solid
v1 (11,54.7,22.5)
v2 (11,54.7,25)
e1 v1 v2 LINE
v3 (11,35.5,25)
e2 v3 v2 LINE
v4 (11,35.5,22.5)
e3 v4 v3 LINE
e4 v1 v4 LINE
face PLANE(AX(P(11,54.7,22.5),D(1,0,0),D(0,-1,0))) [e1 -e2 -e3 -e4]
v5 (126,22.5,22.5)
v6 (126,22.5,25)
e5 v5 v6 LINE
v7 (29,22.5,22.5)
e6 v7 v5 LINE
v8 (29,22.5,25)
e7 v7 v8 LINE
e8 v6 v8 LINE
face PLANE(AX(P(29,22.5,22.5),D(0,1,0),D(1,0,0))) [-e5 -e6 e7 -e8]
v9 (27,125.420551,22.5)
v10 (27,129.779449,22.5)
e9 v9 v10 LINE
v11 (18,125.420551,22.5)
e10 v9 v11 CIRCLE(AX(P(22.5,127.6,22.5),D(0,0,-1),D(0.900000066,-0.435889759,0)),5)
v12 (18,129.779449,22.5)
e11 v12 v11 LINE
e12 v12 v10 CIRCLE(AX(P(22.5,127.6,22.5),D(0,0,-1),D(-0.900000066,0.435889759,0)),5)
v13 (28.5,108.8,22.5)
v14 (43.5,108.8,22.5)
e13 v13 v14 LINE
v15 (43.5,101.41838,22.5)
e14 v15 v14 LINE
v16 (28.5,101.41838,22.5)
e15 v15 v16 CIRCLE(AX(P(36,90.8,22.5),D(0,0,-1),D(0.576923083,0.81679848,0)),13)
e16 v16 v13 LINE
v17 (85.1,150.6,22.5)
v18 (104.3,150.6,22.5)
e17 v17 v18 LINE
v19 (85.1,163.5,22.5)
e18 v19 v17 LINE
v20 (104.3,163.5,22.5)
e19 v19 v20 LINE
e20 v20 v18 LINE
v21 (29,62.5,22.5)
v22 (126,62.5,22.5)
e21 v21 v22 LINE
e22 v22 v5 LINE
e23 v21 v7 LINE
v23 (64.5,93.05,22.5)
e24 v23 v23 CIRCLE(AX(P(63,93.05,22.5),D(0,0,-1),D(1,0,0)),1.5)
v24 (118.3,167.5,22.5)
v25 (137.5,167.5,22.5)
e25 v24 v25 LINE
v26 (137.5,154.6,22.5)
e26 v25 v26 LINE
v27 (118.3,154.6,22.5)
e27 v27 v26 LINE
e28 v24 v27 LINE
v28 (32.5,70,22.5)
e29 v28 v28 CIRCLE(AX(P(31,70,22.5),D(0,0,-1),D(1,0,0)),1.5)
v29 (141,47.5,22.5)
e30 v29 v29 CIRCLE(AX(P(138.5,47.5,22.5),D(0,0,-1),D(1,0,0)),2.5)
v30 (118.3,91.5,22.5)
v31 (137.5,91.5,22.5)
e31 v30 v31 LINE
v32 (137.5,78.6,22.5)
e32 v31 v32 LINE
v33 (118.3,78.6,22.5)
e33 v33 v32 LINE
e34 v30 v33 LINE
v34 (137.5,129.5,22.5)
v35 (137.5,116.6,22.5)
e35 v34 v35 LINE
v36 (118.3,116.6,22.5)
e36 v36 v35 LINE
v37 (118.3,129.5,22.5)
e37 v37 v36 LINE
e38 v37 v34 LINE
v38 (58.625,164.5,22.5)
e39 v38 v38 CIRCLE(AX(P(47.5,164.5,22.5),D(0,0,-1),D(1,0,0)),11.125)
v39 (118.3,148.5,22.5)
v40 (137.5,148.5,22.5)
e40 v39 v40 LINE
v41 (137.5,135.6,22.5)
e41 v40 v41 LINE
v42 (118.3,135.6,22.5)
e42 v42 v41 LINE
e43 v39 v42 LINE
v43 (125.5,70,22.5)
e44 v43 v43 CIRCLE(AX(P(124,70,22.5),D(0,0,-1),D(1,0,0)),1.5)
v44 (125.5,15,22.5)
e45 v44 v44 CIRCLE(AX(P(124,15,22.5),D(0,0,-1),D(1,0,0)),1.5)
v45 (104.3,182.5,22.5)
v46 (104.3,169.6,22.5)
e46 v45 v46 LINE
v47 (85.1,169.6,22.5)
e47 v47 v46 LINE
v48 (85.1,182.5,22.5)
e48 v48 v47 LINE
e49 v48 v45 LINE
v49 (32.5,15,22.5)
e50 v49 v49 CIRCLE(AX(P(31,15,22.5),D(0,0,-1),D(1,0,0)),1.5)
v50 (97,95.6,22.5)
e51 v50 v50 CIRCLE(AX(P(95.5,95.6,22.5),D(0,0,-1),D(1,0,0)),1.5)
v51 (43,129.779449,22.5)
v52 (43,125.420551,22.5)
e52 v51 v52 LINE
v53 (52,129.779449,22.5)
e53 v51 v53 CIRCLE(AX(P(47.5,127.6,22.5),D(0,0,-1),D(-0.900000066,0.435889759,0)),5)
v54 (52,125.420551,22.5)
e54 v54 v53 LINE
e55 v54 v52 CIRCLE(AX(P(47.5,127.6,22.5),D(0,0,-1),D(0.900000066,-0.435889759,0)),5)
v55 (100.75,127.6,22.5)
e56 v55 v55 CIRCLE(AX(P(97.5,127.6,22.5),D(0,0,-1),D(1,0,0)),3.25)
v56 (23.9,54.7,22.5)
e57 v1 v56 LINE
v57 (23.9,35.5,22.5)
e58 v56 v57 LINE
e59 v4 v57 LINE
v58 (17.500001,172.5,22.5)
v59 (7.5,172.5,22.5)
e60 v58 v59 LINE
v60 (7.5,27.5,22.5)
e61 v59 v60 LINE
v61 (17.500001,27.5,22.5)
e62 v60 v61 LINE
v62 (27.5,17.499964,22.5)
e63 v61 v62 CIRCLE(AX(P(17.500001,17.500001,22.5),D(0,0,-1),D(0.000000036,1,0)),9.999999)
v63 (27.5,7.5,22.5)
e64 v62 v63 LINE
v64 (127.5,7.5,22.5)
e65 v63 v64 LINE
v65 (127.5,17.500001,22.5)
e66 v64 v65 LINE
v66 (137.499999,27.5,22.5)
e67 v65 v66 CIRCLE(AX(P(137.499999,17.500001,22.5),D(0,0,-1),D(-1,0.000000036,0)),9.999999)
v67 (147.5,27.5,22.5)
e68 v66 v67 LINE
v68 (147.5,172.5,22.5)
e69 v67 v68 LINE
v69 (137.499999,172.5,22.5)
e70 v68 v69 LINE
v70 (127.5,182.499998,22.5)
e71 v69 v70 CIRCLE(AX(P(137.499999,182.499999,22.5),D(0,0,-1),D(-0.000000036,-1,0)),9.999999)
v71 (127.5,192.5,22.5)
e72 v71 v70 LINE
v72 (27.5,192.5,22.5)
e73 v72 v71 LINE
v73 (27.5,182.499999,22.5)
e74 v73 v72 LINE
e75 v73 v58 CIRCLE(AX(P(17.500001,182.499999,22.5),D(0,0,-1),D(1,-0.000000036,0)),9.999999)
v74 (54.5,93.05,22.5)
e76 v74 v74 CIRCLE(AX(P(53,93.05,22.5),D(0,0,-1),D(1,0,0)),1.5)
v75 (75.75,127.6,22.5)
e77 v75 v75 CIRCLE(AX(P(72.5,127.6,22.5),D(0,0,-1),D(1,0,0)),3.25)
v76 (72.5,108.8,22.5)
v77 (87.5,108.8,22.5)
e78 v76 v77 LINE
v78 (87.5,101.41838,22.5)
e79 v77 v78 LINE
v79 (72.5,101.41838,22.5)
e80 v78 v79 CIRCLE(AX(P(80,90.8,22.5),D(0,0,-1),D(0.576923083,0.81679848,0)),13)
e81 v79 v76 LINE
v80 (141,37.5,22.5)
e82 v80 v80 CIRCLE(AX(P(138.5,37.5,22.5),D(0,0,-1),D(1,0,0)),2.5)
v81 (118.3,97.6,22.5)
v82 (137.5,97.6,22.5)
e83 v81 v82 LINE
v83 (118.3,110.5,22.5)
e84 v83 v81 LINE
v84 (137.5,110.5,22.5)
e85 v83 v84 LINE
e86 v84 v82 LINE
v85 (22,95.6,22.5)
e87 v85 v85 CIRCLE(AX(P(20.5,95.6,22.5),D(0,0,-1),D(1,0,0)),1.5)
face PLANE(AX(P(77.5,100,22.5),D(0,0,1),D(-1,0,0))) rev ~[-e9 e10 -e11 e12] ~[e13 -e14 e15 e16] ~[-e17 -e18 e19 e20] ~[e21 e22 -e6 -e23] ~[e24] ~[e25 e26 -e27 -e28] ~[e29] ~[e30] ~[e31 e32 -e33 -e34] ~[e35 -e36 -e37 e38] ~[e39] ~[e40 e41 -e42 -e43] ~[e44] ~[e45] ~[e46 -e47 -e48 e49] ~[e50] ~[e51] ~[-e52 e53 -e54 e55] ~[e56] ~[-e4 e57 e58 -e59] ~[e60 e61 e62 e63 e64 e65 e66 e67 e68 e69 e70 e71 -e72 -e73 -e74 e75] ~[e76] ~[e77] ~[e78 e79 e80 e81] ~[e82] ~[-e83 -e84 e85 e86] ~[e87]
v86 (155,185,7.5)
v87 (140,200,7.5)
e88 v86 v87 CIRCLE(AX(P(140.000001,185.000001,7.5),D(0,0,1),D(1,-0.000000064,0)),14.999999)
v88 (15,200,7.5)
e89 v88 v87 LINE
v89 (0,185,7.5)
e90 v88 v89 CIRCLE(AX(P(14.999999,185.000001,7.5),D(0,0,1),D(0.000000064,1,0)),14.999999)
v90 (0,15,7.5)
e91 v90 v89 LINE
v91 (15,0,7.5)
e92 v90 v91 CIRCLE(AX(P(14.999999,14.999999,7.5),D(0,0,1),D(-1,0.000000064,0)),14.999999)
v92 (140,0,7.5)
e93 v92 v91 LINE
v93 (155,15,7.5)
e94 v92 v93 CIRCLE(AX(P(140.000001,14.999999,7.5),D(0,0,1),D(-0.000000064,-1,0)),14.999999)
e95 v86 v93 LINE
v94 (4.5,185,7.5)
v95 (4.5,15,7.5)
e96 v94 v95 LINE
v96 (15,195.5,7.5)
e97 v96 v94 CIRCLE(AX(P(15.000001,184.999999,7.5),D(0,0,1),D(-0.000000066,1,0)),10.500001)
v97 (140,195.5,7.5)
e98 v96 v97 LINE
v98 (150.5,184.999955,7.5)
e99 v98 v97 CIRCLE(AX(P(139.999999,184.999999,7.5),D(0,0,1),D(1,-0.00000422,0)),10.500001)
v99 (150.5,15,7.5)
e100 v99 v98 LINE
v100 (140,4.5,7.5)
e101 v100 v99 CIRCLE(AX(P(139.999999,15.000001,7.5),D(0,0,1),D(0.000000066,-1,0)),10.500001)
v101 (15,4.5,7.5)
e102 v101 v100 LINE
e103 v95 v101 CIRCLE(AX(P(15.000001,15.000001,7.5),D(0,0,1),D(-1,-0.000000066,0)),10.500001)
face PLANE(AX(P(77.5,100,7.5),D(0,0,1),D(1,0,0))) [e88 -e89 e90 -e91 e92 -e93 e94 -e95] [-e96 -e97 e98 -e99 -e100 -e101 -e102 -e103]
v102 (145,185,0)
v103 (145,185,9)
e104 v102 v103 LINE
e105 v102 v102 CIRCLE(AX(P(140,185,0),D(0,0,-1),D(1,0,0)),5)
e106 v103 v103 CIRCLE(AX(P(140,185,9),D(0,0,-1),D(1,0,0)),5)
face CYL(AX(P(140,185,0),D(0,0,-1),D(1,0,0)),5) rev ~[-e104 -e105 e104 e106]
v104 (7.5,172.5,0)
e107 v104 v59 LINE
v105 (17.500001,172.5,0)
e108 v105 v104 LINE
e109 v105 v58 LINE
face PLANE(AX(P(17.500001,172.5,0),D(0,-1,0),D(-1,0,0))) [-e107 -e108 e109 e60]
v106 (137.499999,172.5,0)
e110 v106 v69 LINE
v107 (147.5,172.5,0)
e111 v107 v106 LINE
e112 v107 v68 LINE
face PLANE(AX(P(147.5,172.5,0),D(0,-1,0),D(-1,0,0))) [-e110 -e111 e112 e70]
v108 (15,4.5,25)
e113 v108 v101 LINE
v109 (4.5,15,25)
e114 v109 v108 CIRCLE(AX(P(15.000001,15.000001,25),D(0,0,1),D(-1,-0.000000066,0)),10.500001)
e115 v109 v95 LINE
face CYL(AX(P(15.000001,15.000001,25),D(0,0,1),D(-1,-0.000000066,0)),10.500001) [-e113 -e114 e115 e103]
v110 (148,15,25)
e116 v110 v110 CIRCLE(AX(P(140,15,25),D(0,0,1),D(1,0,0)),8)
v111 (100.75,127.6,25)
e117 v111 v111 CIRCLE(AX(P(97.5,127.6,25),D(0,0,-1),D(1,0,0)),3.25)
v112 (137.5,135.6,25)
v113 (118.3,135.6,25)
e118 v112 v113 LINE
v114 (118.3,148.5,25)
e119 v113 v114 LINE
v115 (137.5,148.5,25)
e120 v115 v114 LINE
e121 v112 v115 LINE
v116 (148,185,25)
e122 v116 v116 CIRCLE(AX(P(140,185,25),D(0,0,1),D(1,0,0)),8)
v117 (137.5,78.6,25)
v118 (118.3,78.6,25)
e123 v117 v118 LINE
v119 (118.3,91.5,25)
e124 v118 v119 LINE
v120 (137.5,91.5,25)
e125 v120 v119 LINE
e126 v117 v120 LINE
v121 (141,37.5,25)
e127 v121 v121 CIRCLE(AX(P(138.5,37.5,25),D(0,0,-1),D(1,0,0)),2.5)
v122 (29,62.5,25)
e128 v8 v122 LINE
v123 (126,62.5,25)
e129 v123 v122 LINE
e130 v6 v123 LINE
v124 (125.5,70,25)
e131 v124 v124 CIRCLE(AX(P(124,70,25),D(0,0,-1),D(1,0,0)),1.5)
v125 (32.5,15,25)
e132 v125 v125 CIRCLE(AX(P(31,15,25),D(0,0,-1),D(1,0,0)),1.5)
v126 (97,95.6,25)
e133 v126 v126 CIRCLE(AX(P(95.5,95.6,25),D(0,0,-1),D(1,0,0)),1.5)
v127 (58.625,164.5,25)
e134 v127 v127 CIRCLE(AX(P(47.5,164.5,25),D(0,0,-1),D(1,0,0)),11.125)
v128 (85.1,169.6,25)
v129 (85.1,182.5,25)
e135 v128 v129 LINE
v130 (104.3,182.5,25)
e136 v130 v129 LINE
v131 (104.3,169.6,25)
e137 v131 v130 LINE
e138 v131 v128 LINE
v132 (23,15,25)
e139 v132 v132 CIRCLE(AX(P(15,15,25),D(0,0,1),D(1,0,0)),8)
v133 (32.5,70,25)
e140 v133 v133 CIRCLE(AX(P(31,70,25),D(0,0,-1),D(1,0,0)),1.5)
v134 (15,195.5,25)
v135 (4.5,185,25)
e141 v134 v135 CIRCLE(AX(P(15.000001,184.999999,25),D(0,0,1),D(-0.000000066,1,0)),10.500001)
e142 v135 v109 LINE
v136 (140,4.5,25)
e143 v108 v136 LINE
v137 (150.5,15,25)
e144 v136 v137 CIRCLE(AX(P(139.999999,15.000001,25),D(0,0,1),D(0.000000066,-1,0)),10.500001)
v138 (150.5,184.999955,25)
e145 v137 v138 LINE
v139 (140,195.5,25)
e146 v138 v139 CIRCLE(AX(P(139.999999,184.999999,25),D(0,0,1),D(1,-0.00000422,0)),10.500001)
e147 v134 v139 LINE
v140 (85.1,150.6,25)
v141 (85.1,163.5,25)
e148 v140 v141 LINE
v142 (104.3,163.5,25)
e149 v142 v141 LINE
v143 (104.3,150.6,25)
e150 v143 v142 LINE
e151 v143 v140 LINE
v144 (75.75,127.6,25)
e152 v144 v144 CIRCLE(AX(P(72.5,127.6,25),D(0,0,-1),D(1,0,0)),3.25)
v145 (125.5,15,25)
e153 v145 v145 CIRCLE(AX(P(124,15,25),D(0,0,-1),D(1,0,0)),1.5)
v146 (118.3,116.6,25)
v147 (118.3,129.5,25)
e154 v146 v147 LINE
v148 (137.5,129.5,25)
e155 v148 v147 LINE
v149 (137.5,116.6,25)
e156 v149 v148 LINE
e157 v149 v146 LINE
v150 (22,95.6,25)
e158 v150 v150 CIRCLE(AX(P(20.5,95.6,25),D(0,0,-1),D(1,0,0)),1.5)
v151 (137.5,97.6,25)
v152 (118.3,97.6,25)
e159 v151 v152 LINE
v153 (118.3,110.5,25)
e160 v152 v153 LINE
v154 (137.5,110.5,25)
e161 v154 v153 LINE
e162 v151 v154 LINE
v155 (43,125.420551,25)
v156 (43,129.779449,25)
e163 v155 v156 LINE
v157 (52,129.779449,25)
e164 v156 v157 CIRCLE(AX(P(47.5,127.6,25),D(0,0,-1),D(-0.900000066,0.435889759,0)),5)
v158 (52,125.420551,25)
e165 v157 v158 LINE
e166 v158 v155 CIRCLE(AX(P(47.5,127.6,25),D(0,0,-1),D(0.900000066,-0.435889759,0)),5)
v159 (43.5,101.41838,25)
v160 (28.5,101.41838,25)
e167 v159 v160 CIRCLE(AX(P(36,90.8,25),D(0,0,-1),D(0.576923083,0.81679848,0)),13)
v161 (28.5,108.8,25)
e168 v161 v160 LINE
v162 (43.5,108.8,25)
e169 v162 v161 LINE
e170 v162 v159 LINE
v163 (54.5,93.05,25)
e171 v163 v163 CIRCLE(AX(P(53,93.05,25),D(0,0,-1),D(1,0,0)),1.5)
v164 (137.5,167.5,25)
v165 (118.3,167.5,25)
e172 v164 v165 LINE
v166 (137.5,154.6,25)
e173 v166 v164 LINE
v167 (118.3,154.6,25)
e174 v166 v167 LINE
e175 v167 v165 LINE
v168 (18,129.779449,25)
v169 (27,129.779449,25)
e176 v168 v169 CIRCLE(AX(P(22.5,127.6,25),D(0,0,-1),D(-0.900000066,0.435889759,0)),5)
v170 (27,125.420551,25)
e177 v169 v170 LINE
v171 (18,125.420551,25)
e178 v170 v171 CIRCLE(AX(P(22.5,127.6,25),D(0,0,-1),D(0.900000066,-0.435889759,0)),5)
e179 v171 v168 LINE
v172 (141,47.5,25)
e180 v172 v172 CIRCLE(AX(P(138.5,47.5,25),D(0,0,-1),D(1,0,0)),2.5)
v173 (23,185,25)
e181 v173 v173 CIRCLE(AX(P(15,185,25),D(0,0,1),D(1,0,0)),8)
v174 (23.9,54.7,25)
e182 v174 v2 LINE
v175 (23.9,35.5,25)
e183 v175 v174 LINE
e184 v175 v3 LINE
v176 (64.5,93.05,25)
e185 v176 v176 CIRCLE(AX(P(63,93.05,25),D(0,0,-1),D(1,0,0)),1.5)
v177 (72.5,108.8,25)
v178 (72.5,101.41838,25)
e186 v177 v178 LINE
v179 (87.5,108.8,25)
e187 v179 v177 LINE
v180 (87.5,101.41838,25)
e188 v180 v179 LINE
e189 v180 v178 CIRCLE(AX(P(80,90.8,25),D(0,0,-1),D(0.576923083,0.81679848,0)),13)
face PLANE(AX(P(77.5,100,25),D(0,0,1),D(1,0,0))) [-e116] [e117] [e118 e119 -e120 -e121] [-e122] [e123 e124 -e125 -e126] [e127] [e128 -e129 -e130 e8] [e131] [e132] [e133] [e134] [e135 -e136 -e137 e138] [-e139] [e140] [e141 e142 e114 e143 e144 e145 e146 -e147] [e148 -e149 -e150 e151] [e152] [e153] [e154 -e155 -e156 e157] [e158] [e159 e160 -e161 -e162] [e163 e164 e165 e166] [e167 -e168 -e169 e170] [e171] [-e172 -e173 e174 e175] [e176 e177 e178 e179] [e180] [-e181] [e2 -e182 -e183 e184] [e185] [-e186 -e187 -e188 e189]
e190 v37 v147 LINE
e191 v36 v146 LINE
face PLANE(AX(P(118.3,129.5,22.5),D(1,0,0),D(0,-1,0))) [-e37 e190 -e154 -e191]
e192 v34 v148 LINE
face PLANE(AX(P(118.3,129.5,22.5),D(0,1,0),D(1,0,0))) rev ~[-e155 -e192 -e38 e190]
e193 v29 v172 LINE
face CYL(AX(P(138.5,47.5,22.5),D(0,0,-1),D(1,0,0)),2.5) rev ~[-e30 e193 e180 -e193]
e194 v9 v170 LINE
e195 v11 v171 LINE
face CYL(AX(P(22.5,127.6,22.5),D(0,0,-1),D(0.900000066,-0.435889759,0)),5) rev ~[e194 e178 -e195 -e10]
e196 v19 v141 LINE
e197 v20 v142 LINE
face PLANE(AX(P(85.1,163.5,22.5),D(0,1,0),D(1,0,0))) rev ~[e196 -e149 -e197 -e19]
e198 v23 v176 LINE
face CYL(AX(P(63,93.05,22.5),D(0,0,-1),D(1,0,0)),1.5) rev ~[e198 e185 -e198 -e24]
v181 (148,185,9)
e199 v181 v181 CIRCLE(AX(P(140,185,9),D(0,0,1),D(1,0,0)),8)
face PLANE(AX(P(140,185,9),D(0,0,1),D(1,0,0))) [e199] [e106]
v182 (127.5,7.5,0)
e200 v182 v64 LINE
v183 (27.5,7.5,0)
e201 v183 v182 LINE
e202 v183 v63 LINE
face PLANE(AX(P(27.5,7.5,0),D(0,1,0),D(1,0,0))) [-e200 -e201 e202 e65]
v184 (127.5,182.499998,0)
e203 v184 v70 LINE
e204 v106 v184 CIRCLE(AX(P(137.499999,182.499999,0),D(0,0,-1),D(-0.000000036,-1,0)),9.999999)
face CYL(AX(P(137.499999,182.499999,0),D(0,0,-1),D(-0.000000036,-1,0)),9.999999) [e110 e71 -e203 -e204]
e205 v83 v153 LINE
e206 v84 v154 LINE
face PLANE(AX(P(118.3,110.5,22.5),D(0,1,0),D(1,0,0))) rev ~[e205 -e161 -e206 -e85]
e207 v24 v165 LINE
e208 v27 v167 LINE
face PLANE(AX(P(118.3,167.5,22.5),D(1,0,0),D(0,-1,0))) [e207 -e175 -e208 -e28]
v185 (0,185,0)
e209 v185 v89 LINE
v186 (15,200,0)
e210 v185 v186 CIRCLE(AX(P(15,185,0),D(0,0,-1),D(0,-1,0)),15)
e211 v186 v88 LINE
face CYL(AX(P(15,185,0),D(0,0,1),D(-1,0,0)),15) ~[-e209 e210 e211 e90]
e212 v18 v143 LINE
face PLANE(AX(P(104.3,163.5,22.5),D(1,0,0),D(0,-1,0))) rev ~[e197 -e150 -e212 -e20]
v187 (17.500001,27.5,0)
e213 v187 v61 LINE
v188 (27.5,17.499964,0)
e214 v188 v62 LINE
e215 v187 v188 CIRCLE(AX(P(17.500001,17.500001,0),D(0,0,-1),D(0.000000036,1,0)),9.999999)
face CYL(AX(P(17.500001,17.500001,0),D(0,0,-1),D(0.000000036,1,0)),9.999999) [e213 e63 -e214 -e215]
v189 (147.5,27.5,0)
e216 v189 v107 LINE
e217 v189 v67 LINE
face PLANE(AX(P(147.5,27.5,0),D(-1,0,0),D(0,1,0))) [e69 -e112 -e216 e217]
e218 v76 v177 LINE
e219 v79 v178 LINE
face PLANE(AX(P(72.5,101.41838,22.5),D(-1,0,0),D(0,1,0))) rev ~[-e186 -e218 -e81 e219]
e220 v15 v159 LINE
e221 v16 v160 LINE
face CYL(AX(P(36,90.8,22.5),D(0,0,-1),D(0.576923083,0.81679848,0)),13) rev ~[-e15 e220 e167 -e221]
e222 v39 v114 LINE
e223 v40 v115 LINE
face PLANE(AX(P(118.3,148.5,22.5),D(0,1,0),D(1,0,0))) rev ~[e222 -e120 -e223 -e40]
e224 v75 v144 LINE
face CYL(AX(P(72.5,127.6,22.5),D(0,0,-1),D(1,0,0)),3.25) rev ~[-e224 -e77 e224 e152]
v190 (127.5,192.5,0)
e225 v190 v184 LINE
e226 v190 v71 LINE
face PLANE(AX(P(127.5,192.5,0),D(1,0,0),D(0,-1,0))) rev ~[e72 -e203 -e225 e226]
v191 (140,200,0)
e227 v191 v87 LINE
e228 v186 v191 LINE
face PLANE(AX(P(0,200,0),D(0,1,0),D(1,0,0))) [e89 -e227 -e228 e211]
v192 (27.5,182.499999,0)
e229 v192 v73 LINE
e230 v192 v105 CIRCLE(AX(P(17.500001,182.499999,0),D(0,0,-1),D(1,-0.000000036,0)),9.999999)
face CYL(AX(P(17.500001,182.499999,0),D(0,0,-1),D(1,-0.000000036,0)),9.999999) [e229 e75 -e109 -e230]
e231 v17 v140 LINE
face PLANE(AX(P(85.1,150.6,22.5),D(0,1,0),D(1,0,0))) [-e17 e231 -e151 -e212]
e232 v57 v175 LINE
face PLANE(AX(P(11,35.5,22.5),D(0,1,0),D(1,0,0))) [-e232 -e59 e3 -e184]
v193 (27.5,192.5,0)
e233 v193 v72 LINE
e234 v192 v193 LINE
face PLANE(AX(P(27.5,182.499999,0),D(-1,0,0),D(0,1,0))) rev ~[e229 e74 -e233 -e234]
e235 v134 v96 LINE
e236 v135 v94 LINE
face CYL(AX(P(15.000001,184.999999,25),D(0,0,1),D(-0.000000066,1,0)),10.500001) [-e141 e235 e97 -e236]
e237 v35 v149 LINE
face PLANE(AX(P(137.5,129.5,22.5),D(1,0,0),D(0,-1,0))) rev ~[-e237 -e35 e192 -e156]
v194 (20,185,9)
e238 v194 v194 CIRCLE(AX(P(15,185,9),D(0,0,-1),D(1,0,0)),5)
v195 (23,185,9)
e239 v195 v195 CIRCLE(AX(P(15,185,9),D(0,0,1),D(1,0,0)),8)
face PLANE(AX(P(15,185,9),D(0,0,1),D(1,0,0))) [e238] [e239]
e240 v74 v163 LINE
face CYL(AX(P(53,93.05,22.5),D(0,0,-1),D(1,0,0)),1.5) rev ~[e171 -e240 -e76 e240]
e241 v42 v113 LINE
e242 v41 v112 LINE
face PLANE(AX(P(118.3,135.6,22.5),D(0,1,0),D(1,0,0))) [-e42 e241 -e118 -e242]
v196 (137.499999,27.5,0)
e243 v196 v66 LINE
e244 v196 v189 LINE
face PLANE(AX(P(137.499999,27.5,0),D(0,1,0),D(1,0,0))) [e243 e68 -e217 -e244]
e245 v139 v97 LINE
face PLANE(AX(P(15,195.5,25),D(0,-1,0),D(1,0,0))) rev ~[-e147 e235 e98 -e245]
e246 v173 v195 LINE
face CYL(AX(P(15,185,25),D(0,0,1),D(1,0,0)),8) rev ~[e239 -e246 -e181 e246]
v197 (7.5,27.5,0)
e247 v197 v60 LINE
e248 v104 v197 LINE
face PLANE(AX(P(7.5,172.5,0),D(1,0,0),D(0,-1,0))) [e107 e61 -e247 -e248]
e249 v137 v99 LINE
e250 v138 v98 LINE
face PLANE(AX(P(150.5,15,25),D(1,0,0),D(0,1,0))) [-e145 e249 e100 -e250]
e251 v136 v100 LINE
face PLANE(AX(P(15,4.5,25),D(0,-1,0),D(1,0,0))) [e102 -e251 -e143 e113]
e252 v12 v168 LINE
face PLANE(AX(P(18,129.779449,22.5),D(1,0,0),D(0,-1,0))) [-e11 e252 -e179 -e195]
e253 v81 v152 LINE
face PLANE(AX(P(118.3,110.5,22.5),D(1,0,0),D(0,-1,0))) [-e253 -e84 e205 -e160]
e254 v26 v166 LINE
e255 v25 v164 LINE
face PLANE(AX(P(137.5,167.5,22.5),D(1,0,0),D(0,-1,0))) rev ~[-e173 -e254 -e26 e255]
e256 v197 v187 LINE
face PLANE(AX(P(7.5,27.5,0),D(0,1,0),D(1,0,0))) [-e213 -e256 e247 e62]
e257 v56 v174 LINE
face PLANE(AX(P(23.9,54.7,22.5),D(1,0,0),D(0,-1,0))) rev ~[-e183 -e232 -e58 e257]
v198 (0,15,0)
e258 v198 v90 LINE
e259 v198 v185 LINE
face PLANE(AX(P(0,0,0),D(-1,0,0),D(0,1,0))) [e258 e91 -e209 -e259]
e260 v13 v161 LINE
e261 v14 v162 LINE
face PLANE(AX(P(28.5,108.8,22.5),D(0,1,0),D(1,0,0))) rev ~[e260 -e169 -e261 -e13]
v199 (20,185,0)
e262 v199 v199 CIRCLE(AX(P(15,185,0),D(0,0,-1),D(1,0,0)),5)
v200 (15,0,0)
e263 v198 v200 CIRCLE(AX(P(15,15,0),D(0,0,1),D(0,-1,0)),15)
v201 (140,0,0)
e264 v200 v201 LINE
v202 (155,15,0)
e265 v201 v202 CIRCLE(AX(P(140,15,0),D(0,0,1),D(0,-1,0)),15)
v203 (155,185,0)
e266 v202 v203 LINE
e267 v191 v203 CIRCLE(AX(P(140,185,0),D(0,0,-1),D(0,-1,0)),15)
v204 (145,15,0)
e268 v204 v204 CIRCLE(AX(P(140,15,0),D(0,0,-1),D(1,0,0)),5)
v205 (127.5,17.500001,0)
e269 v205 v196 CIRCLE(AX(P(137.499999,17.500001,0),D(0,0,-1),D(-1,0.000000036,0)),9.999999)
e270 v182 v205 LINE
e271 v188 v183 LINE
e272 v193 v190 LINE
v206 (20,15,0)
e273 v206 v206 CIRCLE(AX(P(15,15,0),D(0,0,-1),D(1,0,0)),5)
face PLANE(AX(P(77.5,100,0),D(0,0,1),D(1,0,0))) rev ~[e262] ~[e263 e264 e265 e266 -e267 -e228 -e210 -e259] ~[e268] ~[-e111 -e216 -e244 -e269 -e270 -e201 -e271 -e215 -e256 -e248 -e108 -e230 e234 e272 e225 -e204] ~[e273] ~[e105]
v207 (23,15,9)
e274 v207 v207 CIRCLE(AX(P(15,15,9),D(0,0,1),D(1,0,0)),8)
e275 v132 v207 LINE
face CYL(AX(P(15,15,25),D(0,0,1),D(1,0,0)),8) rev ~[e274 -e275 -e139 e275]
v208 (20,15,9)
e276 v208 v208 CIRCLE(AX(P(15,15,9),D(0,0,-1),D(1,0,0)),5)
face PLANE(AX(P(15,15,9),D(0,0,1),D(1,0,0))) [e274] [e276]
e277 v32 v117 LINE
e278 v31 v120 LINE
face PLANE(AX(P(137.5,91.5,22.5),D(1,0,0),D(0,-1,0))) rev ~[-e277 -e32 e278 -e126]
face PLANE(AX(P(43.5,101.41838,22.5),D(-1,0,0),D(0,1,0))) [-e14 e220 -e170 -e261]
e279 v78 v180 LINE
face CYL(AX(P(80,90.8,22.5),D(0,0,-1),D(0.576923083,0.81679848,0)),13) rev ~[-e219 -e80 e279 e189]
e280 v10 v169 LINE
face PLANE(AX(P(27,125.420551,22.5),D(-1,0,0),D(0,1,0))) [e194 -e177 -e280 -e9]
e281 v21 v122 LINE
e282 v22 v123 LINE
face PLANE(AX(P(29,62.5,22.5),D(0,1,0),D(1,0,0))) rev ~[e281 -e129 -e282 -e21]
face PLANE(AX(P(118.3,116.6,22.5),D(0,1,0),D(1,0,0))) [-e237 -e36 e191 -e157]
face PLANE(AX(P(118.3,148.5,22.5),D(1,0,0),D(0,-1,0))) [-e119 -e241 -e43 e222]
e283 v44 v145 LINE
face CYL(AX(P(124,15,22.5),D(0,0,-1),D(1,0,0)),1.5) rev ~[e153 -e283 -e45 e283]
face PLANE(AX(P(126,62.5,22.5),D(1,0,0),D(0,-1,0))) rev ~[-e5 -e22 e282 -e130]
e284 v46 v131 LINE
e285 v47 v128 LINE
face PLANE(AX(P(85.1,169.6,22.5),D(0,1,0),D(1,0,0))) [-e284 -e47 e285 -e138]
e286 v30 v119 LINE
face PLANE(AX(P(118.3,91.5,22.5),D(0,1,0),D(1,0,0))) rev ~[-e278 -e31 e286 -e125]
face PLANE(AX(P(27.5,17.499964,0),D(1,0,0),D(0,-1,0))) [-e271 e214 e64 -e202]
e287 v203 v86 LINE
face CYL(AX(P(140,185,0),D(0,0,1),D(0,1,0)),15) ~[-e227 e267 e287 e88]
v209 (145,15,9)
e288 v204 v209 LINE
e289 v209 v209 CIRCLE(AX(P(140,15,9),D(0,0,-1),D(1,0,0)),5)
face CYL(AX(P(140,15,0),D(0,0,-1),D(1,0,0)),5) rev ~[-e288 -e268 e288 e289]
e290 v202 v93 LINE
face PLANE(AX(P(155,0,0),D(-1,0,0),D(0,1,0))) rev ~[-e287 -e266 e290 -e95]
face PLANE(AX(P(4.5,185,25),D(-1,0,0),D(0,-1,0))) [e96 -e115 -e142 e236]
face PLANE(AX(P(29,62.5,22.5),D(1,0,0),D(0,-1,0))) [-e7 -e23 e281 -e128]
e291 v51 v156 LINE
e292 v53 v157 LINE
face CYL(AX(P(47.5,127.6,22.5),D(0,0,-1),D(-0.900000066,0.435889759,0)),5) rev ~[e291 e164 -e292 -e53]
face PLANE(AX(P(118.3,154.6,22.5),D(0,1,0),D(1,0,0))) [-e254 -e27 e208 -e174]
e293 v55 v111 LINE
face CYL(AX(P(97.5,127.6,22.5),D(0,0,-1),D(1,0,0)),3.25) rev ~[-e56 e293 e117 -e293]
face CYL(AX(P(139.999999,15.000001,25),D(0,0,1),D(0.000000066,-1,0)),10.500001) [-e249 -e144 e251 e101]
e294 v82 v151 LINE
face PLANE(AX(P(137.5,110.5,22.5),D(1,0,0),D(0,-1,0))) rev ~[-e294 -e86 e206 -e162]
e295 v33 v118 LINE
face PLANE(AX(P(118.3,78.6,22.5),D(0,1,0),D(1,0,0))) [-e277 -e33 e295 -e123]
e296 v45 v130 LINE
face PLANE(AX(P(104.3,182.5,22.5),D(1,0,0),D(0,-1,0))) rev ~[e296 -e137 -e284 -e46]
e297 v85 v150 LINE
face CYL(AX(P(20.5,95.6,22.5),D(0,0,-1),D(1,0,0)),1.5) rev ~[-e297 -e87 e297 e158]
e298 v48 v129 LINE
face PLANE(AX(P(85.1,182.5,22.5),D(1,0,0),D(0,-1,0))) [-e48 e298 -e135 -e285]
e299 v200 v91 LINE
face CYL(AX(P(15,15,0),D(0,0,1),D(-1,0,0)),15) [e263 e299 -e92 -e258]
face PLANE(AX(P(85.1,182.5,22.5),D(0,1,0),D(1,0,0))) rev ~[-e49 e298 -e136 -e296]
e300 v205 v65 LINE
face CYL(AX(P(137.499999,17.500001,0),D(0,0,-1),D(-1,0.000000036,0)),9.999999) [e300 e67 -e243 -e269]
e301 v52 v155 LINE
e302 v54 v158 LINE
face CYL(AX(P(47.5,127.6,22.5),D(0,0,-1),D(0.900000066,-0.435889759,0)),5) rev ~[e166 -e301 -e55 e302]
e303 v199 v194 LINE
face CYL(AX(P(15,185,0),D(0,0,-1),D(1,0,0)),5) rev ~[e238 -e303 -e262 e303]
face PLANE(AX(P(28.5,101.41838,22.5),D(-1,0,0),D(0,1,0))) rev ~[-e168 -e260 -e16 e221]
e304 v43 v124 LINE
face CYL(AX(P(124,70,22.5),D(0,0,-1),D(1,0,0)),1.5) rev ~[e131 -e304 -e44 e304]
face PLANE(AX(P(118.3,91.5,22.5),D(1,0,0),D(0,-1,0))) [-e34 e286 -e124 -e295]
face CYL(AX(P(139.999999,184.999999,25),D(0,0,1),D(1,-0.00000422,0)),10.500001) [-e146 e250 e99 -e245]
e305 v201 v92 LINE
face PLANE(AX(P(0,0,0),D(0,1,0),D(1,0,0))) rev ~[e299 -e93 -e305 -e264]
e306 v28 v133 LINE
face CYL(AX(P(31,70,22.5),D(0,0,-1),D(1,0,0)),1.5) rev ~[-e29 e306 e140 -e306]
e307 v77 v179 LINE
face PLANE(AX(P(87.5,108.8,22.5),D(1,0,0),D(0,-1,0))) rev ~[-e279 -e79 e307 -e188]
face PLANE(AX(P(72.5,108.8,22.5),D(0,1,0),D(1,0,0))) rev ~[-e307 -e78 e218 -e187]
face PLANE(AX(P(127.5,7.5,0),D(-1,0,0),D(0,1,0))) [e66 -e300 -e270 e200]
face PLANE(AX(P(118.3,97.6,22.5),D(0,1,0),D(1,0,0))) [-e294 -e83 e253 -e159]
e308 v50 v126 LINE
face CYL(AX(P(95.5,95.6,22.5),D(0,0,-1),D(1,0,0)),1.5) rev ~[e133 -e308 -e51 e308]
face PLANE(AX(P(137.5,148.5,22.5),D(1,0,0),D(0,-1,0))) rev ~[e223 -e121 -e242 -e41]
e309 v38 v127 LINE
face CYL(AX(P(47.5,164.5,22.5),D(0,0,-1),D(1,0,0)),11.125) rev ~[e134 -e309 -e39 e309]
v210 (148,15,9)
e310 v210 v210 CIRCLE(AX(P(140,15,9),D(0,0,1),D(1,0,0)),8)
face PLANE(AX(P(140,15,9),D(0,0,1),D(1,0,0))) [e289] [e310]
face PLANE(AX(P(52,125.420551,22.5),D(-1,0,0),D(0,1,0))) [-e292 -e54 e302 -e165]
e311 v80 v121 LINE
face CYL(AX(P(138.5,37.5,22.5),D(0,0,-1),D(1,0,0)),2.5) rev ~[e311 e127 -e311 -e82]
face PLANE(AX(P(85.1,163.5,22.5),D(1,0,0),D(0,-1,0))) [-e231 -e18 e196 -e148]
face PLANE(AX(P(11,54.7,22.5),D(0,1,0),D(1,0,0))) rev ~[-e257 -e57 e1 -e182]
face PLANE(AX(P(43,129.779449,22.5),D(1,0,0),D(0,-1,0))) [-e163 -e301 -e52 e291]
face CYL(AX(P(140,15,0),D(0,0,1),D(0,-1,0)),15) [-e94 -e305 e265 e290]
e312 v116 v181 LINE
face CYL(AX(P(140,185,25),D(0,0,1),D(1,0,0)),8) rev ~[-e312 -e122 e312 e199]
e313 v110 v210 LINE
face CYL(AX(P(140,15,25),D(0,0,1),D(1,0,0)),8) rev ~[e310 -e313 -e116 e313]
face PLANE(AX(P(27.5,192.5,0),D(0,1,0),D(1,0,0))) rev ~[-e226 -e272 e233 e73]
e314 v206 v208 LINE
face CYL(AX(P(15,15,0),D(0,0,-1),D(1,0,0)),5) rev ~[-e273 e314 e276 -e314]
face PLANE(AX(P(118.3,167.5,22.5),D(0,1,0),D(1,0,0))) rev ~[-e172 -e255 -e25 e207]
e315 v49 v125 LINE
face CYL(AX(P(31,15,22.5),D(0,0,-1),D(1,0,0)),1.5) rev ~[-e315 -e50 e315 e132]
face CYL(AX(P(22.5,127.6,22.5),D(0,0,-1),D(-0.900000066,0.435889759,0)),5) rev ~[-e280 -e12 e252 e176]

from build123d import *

# Parameters (mm, degrees)
SKETCH_W        = 155
SKETCH_H        = 200
PAD_DEPTH       = 25
POCKET_DEPTH    = 22.5
FILLET_R        = 15
SKETCH002_R     = 5
POCKET001_DEPTH = 25.001
SKETCH003_R     = 8
POCKET002_DEPTH = 16
POCKET003_DEPTH = 17.5
POCKET004_DEPTH = 17.5
SKETCH006_R     = 1.5
SKETCH006_W     = 97
SKETCH006_H     = 40
POCKET005_DEPTH = 2.501
SKETCH007_R     = 11.125
SKETCH007_R_2   = 1.5
SKETCH007_R_3   = 3.25
SKETCH007_R_4   = 2.5
SKETCH007_W     = 19.2
SKETCH007_H     = 12.9
SKETCH007_W_2   = 12.9
SKETCH007_H_2   = 19.2
POCKET006_DEPTH = 5


with BuildPart() as part:
    # Sketch → Pad (new body)
    with BuildSketch(Plane.XY):
        with Locations((77.5, 100)):
            Rectangle(SKETCH_W, SKETCH_H)
    extrude(amount=PAD_DEPTH)

    # Sketch001 (on Face5 of Pad) → Pocket (cut)
    with BuildSketch(Plane(origin=(0, 0, 0), x_dir=(1, 0, 0), z_dir=(0, 0, -1))):
        with BuildLine():
            ThreePointArc((17.500001, -27.5), (24.571081, -24.571055), (27.5, -17.499964))
            Line((27.5, -17.499964), (27.5, -7.5))
            Line((27.5, -7.5), (127.5, -7.5))
            Line((127.5, -7.5), (127.5, -17.500001))
            ThreePointArc((127.5, -17.500001), (130.428932, -24.571068), (137.499999, -27.5))
            Line((137.499999, -27.5), (147.5, -27.5))
            Line((147.5, -27.5), (147.5, -172.5))
            Line((147.5, -172.5), (137.499999, -172.5))
            ThreePointArc((137.499999, -172.5), (130.428932, -175.428932), (127.5, -182.499998))
            Line((127.5, -192.5), (127.5, -182.499998))
            Line((27.5, -192.5), (127.5, -192.5))
            Line((27.5, -182.499999), (27.5, -192.5))
            ThreePointArc((27.5, -182.499999), (24.571068, -175.428932), (17.500001, -172.5))
            Line((17.500001, -172.5), (7.5, -172.5))
            Line((7.5, -172.5), (7.5, -27.5))
            Line((7.5, -27.5), (17.500001, -27.5))
        make_face()
    extrude(amount=-POCKET_DEPTH, mode=Mode.SUBTRACT)

    # Fillet
    fillet_edges = [part.edges().sort_by_distance(p)[0] for p in [
        (155, 0, 12.5),
        (155, 200, 12.5),
        (0, 0, 12.5),
        (0, 200, 12.5),
    ]]
    fillet(fillet_edges, radius=FILLET_R)

    # Sketch002 (on Face2 of Fillet) → Pocket001 (cut, through all)
    with BuildSketch(Plane(origin=(0, 0, 0), x_dir=(1, 0, 0), z_dir=(0, 0, -1))):
        with Locations((15, -15)):
            Circle(SKETCH002_R)
        with Locations((140, -15)):
            Circle(SKETCH002_R)
        with Locations((140, -185)):
            Circle(SKETCH002_R)
        with Locations((15, -185)):
            Circle(SKETCH002_R)
    extrude(amount=-POCKET001_DEPTH, mode=Mode.SUBTRACT)

    # Sketch003 (on Face5 of Pocket001) → Pocket002 (cut)
    with BuildSketch(Plane.XY.offset(25)):
        with Locations((15, 185)):
            Circle(SKETCH003_R)
        with Locations((140, 185)):
            Circle(SKETCH003_R)
        with Locations((140, 15)):
            Circle(SKETCH003_R)
        with Locations((15, 15)):
            Circle(SKETCH003_R)
    extrude(amount=-POCKET002_DEPTH, mode=Mode.SUBTRACT)

    # Sketch004 (on Face5 of Pocket002) → Pocket003 (cut)
    with BuildSketch(Plane.XY.offset(25)):
        with BuildLine():
            ThreePointArc((15, 200), (4.393398, 195.606602), (0, 185))
            Line((0, 15), (0, 185))
            ThreePointArc((0, 15), (4.393398, 4.393398), (15, 0))
            Line((140, 0), (15, 0))
            ThreePointArc((140, 0), (150.606602, 4.393398), (155, 15))
            Line((155, 185), (155, 15))
            ThreePointArc((155, 185), (150.606602, 195.606602), (140, 200))
            Line((15, 200), (140, 200))
        make_face()
        with BuildLine():
            ThreePointArc((15, 195.5), (7.575379, 192.424621), (4.5, 185))
            Line((4.5, 185), (4.5, 15))
            ThreePointArc((4.5, 15), (7.575379, 7.575379), (15, 4.5))
            Line((15, 4.5), (140, 4.5))
            ThreePointArc((140, 4.5), (147.424621, 7.575379), (150.5, 15))
            Line((150.5, 15), (150.5, 184.999955))
            ThreePointArc((150.5, 184.999955), (147.424637, 192.424605), (140, 195.5))
            Line((15, 195.5), (140, 195.5))
        make_face(mode=Mode.SUBTRACT)
    extrude(amount=POCKET003_DEPTH, mode=Mode.SUBTRACT)

    # Sketch004 (on Face5 of Pocket002) → Pocket004 (cut)
    with BuildSketch(Plane.XY.offset(25)):
        with BuildLine():
            ThreePointArc((15, 200), (4.393398, 195.606602), (0, 185))
            Line((0, 15), (0, 185))
            ThreePointArc((0, 15), (4.393398, 4.393398), (15, 0))
            Line((140, 0), (15, 0))
            ThreePointArc((140, 0), (150.606602, 4.393398), (155, 15))
            Line((155, 185), (155, 15))
            ThreePointArc((155, 185), (150.606602, 195.606602), (140, 200))
            Line((15, 200), (140, 200))
        make_face()
        with BuildLine():
            ThreePointArc((15, 195.5), (7.575379, 192.424621), (4.5, 185))
            Line((4.5, 185), (4.5, 15))
            ThreePointArc((4.5, 15), (7.575379, 7.575379), (15, 4.5))
            Line((15, 4.5), (140, 4.5))
            ThreePointArc((140, 4.5), (147.424621, 7.575379), (150.5, 15))
            Line((150.5, 15), (150.5, 184.999955))
            ThreePointArc((150.5, 184.999955), (147.424637, 192.424605), (140, 195.5))
            Line((15, 195.5), (140, 195.5))
        make_face(mode=Mode.SUBTRACT)
    extrude(amount=-POCKET004_DEPTH, mode=Mode.SUBTRACT)

    # Sketch006 (on Face40 of Pocket004) → Pocket005 (cut, through all)
    with BuildSketch(Plane(origin=(0, 0, 22.5), x_dir=(1, 0, 0), z_dir=(0, 0, -1))):
        with Locations((31, -15)):
            Circle(SKETCH006_R)
        with Locations((124, -15)):
            Circle(SKETCH006_R)
        with Locations((124, -70)):
            Circle(SKETCH006_R)
        with Locations((31, -70)):
            Circle(SKETCH006_R)
        with Locations((77.5, -42.5)):
            Rectangle(SKETCH006_W, SKETCH006_H)
    extrude(amount=-POCKET005_DEPTH, mode=Mode.SUBTRACT)

    # Sketch007 (on Face40 of Pocket005) → Pocket006 (cut)
    with BuildSketch(Plane(origin=(0, 0, 22.5), x_dir=(1, 0, 0), z_dir=(0, 0, -1))):
        with Locations((47.5, -164.5)):
            Circle(SKETCH007_R)
        with Locations((20.5, -95.6)):
            Circle(SKETCH007_R_2)
        with Locations((95.5, -95.6)):
            Circle(SKETCH007_R_2)
        with Locations((53, -93.05)):
            Circle(SKETCH007_R_2)
        with Locations((63, -93.05)):
            Circle(SKETCH007_R_2)
        with Locations((72.5, -127.6)):
            Circle(SKETCH007_R_3)
        with Locations((97.5, -127.6)):
            Circle(SKETCH007_R_3)
        with Locations((138.5, -37.5)):
            Circle(SKETCH007_R_4)
        with Locations((138.5, -47.5)):
            Circle(SKETCH007_R_4)
        with Locations((127.9, -85.05)):
            Rectangle(SKETCH007_W, SKETCH007_H)
        with Locations((127.9, -123.05)):
            Rectangle(SKETCH007_W, SKETCH007_H)
        with Locations((127.9, -142.05)):
            Rectangle(SKETCH007_W, SKETCH007_H)
        with Locations((127.9, -161.05)):
            Rectangle(SKETCH007_W, SKETCH007_H)
        with Locations((127.9, -104.05)):
            Rectangle(SKETCH007_W, SKETCH007_H)
        with BuildLine():
            ThreePointArc((87.5, -101.41838), (80, -77.8), (72.5, -101.41838))
            Line((72.5, -101.41838), (72.5, -108.8))
            Line((72.5, -108.8), (87.5, -108.8))
            Line((87.5, -108.8), (87.5, -101.41838))
        make_face()
        with BuildLine():
            ThreePointArc((43.5, -101.41838), (36, -77.8), (28.5, -101.41838))
            Line((28.5, -101.41838), (28.5, -108.8))
            Line((28.5, -108.8), (43.5, -108.8))
            Line((43.5, -101.41838), (43.5, -108.8))
        make_face()
        with Locations((94.7, -157.05)):
            Rectangle(SKETCH007_W, SKETCH007_H)
        with Locations((94.7, -176.05)):
            Rectangle(SKETCH007_W, SKETCH007_H)
        with Locations((17.45, -45.1)):
            Rectangle(SKETCH007_W_2, SKETCH007_H_2)
        with BuildLine():
            Line((27, -125.420551), (27, -129.779449))
            ThreePointArc((18, -129.779449), (22.5, -132.6), (27, -129.779449))
            Line((18, -129.779449), (18, -125.420551))
            ThreePointArc((27, -125.420551), (22.5, -122.6), (18, -125.420551))
        make_face()
        with BuildLine():
            Line((52, -125.420551), (52, -129.779449))
            ThreePointArc((43, -129.779449), (47.5, -132.6), (52, -129.779449))
            Line((43, -129.779449), (43, -125.420551))
            ThreePointArc((52, -125.420551), (47.5, -122.6), (43, -125.420551))
        make_face()
    extrude(amount=-POCKET006_DEPTH, mode=Mode.SUBTRACT)


solid = part.part
